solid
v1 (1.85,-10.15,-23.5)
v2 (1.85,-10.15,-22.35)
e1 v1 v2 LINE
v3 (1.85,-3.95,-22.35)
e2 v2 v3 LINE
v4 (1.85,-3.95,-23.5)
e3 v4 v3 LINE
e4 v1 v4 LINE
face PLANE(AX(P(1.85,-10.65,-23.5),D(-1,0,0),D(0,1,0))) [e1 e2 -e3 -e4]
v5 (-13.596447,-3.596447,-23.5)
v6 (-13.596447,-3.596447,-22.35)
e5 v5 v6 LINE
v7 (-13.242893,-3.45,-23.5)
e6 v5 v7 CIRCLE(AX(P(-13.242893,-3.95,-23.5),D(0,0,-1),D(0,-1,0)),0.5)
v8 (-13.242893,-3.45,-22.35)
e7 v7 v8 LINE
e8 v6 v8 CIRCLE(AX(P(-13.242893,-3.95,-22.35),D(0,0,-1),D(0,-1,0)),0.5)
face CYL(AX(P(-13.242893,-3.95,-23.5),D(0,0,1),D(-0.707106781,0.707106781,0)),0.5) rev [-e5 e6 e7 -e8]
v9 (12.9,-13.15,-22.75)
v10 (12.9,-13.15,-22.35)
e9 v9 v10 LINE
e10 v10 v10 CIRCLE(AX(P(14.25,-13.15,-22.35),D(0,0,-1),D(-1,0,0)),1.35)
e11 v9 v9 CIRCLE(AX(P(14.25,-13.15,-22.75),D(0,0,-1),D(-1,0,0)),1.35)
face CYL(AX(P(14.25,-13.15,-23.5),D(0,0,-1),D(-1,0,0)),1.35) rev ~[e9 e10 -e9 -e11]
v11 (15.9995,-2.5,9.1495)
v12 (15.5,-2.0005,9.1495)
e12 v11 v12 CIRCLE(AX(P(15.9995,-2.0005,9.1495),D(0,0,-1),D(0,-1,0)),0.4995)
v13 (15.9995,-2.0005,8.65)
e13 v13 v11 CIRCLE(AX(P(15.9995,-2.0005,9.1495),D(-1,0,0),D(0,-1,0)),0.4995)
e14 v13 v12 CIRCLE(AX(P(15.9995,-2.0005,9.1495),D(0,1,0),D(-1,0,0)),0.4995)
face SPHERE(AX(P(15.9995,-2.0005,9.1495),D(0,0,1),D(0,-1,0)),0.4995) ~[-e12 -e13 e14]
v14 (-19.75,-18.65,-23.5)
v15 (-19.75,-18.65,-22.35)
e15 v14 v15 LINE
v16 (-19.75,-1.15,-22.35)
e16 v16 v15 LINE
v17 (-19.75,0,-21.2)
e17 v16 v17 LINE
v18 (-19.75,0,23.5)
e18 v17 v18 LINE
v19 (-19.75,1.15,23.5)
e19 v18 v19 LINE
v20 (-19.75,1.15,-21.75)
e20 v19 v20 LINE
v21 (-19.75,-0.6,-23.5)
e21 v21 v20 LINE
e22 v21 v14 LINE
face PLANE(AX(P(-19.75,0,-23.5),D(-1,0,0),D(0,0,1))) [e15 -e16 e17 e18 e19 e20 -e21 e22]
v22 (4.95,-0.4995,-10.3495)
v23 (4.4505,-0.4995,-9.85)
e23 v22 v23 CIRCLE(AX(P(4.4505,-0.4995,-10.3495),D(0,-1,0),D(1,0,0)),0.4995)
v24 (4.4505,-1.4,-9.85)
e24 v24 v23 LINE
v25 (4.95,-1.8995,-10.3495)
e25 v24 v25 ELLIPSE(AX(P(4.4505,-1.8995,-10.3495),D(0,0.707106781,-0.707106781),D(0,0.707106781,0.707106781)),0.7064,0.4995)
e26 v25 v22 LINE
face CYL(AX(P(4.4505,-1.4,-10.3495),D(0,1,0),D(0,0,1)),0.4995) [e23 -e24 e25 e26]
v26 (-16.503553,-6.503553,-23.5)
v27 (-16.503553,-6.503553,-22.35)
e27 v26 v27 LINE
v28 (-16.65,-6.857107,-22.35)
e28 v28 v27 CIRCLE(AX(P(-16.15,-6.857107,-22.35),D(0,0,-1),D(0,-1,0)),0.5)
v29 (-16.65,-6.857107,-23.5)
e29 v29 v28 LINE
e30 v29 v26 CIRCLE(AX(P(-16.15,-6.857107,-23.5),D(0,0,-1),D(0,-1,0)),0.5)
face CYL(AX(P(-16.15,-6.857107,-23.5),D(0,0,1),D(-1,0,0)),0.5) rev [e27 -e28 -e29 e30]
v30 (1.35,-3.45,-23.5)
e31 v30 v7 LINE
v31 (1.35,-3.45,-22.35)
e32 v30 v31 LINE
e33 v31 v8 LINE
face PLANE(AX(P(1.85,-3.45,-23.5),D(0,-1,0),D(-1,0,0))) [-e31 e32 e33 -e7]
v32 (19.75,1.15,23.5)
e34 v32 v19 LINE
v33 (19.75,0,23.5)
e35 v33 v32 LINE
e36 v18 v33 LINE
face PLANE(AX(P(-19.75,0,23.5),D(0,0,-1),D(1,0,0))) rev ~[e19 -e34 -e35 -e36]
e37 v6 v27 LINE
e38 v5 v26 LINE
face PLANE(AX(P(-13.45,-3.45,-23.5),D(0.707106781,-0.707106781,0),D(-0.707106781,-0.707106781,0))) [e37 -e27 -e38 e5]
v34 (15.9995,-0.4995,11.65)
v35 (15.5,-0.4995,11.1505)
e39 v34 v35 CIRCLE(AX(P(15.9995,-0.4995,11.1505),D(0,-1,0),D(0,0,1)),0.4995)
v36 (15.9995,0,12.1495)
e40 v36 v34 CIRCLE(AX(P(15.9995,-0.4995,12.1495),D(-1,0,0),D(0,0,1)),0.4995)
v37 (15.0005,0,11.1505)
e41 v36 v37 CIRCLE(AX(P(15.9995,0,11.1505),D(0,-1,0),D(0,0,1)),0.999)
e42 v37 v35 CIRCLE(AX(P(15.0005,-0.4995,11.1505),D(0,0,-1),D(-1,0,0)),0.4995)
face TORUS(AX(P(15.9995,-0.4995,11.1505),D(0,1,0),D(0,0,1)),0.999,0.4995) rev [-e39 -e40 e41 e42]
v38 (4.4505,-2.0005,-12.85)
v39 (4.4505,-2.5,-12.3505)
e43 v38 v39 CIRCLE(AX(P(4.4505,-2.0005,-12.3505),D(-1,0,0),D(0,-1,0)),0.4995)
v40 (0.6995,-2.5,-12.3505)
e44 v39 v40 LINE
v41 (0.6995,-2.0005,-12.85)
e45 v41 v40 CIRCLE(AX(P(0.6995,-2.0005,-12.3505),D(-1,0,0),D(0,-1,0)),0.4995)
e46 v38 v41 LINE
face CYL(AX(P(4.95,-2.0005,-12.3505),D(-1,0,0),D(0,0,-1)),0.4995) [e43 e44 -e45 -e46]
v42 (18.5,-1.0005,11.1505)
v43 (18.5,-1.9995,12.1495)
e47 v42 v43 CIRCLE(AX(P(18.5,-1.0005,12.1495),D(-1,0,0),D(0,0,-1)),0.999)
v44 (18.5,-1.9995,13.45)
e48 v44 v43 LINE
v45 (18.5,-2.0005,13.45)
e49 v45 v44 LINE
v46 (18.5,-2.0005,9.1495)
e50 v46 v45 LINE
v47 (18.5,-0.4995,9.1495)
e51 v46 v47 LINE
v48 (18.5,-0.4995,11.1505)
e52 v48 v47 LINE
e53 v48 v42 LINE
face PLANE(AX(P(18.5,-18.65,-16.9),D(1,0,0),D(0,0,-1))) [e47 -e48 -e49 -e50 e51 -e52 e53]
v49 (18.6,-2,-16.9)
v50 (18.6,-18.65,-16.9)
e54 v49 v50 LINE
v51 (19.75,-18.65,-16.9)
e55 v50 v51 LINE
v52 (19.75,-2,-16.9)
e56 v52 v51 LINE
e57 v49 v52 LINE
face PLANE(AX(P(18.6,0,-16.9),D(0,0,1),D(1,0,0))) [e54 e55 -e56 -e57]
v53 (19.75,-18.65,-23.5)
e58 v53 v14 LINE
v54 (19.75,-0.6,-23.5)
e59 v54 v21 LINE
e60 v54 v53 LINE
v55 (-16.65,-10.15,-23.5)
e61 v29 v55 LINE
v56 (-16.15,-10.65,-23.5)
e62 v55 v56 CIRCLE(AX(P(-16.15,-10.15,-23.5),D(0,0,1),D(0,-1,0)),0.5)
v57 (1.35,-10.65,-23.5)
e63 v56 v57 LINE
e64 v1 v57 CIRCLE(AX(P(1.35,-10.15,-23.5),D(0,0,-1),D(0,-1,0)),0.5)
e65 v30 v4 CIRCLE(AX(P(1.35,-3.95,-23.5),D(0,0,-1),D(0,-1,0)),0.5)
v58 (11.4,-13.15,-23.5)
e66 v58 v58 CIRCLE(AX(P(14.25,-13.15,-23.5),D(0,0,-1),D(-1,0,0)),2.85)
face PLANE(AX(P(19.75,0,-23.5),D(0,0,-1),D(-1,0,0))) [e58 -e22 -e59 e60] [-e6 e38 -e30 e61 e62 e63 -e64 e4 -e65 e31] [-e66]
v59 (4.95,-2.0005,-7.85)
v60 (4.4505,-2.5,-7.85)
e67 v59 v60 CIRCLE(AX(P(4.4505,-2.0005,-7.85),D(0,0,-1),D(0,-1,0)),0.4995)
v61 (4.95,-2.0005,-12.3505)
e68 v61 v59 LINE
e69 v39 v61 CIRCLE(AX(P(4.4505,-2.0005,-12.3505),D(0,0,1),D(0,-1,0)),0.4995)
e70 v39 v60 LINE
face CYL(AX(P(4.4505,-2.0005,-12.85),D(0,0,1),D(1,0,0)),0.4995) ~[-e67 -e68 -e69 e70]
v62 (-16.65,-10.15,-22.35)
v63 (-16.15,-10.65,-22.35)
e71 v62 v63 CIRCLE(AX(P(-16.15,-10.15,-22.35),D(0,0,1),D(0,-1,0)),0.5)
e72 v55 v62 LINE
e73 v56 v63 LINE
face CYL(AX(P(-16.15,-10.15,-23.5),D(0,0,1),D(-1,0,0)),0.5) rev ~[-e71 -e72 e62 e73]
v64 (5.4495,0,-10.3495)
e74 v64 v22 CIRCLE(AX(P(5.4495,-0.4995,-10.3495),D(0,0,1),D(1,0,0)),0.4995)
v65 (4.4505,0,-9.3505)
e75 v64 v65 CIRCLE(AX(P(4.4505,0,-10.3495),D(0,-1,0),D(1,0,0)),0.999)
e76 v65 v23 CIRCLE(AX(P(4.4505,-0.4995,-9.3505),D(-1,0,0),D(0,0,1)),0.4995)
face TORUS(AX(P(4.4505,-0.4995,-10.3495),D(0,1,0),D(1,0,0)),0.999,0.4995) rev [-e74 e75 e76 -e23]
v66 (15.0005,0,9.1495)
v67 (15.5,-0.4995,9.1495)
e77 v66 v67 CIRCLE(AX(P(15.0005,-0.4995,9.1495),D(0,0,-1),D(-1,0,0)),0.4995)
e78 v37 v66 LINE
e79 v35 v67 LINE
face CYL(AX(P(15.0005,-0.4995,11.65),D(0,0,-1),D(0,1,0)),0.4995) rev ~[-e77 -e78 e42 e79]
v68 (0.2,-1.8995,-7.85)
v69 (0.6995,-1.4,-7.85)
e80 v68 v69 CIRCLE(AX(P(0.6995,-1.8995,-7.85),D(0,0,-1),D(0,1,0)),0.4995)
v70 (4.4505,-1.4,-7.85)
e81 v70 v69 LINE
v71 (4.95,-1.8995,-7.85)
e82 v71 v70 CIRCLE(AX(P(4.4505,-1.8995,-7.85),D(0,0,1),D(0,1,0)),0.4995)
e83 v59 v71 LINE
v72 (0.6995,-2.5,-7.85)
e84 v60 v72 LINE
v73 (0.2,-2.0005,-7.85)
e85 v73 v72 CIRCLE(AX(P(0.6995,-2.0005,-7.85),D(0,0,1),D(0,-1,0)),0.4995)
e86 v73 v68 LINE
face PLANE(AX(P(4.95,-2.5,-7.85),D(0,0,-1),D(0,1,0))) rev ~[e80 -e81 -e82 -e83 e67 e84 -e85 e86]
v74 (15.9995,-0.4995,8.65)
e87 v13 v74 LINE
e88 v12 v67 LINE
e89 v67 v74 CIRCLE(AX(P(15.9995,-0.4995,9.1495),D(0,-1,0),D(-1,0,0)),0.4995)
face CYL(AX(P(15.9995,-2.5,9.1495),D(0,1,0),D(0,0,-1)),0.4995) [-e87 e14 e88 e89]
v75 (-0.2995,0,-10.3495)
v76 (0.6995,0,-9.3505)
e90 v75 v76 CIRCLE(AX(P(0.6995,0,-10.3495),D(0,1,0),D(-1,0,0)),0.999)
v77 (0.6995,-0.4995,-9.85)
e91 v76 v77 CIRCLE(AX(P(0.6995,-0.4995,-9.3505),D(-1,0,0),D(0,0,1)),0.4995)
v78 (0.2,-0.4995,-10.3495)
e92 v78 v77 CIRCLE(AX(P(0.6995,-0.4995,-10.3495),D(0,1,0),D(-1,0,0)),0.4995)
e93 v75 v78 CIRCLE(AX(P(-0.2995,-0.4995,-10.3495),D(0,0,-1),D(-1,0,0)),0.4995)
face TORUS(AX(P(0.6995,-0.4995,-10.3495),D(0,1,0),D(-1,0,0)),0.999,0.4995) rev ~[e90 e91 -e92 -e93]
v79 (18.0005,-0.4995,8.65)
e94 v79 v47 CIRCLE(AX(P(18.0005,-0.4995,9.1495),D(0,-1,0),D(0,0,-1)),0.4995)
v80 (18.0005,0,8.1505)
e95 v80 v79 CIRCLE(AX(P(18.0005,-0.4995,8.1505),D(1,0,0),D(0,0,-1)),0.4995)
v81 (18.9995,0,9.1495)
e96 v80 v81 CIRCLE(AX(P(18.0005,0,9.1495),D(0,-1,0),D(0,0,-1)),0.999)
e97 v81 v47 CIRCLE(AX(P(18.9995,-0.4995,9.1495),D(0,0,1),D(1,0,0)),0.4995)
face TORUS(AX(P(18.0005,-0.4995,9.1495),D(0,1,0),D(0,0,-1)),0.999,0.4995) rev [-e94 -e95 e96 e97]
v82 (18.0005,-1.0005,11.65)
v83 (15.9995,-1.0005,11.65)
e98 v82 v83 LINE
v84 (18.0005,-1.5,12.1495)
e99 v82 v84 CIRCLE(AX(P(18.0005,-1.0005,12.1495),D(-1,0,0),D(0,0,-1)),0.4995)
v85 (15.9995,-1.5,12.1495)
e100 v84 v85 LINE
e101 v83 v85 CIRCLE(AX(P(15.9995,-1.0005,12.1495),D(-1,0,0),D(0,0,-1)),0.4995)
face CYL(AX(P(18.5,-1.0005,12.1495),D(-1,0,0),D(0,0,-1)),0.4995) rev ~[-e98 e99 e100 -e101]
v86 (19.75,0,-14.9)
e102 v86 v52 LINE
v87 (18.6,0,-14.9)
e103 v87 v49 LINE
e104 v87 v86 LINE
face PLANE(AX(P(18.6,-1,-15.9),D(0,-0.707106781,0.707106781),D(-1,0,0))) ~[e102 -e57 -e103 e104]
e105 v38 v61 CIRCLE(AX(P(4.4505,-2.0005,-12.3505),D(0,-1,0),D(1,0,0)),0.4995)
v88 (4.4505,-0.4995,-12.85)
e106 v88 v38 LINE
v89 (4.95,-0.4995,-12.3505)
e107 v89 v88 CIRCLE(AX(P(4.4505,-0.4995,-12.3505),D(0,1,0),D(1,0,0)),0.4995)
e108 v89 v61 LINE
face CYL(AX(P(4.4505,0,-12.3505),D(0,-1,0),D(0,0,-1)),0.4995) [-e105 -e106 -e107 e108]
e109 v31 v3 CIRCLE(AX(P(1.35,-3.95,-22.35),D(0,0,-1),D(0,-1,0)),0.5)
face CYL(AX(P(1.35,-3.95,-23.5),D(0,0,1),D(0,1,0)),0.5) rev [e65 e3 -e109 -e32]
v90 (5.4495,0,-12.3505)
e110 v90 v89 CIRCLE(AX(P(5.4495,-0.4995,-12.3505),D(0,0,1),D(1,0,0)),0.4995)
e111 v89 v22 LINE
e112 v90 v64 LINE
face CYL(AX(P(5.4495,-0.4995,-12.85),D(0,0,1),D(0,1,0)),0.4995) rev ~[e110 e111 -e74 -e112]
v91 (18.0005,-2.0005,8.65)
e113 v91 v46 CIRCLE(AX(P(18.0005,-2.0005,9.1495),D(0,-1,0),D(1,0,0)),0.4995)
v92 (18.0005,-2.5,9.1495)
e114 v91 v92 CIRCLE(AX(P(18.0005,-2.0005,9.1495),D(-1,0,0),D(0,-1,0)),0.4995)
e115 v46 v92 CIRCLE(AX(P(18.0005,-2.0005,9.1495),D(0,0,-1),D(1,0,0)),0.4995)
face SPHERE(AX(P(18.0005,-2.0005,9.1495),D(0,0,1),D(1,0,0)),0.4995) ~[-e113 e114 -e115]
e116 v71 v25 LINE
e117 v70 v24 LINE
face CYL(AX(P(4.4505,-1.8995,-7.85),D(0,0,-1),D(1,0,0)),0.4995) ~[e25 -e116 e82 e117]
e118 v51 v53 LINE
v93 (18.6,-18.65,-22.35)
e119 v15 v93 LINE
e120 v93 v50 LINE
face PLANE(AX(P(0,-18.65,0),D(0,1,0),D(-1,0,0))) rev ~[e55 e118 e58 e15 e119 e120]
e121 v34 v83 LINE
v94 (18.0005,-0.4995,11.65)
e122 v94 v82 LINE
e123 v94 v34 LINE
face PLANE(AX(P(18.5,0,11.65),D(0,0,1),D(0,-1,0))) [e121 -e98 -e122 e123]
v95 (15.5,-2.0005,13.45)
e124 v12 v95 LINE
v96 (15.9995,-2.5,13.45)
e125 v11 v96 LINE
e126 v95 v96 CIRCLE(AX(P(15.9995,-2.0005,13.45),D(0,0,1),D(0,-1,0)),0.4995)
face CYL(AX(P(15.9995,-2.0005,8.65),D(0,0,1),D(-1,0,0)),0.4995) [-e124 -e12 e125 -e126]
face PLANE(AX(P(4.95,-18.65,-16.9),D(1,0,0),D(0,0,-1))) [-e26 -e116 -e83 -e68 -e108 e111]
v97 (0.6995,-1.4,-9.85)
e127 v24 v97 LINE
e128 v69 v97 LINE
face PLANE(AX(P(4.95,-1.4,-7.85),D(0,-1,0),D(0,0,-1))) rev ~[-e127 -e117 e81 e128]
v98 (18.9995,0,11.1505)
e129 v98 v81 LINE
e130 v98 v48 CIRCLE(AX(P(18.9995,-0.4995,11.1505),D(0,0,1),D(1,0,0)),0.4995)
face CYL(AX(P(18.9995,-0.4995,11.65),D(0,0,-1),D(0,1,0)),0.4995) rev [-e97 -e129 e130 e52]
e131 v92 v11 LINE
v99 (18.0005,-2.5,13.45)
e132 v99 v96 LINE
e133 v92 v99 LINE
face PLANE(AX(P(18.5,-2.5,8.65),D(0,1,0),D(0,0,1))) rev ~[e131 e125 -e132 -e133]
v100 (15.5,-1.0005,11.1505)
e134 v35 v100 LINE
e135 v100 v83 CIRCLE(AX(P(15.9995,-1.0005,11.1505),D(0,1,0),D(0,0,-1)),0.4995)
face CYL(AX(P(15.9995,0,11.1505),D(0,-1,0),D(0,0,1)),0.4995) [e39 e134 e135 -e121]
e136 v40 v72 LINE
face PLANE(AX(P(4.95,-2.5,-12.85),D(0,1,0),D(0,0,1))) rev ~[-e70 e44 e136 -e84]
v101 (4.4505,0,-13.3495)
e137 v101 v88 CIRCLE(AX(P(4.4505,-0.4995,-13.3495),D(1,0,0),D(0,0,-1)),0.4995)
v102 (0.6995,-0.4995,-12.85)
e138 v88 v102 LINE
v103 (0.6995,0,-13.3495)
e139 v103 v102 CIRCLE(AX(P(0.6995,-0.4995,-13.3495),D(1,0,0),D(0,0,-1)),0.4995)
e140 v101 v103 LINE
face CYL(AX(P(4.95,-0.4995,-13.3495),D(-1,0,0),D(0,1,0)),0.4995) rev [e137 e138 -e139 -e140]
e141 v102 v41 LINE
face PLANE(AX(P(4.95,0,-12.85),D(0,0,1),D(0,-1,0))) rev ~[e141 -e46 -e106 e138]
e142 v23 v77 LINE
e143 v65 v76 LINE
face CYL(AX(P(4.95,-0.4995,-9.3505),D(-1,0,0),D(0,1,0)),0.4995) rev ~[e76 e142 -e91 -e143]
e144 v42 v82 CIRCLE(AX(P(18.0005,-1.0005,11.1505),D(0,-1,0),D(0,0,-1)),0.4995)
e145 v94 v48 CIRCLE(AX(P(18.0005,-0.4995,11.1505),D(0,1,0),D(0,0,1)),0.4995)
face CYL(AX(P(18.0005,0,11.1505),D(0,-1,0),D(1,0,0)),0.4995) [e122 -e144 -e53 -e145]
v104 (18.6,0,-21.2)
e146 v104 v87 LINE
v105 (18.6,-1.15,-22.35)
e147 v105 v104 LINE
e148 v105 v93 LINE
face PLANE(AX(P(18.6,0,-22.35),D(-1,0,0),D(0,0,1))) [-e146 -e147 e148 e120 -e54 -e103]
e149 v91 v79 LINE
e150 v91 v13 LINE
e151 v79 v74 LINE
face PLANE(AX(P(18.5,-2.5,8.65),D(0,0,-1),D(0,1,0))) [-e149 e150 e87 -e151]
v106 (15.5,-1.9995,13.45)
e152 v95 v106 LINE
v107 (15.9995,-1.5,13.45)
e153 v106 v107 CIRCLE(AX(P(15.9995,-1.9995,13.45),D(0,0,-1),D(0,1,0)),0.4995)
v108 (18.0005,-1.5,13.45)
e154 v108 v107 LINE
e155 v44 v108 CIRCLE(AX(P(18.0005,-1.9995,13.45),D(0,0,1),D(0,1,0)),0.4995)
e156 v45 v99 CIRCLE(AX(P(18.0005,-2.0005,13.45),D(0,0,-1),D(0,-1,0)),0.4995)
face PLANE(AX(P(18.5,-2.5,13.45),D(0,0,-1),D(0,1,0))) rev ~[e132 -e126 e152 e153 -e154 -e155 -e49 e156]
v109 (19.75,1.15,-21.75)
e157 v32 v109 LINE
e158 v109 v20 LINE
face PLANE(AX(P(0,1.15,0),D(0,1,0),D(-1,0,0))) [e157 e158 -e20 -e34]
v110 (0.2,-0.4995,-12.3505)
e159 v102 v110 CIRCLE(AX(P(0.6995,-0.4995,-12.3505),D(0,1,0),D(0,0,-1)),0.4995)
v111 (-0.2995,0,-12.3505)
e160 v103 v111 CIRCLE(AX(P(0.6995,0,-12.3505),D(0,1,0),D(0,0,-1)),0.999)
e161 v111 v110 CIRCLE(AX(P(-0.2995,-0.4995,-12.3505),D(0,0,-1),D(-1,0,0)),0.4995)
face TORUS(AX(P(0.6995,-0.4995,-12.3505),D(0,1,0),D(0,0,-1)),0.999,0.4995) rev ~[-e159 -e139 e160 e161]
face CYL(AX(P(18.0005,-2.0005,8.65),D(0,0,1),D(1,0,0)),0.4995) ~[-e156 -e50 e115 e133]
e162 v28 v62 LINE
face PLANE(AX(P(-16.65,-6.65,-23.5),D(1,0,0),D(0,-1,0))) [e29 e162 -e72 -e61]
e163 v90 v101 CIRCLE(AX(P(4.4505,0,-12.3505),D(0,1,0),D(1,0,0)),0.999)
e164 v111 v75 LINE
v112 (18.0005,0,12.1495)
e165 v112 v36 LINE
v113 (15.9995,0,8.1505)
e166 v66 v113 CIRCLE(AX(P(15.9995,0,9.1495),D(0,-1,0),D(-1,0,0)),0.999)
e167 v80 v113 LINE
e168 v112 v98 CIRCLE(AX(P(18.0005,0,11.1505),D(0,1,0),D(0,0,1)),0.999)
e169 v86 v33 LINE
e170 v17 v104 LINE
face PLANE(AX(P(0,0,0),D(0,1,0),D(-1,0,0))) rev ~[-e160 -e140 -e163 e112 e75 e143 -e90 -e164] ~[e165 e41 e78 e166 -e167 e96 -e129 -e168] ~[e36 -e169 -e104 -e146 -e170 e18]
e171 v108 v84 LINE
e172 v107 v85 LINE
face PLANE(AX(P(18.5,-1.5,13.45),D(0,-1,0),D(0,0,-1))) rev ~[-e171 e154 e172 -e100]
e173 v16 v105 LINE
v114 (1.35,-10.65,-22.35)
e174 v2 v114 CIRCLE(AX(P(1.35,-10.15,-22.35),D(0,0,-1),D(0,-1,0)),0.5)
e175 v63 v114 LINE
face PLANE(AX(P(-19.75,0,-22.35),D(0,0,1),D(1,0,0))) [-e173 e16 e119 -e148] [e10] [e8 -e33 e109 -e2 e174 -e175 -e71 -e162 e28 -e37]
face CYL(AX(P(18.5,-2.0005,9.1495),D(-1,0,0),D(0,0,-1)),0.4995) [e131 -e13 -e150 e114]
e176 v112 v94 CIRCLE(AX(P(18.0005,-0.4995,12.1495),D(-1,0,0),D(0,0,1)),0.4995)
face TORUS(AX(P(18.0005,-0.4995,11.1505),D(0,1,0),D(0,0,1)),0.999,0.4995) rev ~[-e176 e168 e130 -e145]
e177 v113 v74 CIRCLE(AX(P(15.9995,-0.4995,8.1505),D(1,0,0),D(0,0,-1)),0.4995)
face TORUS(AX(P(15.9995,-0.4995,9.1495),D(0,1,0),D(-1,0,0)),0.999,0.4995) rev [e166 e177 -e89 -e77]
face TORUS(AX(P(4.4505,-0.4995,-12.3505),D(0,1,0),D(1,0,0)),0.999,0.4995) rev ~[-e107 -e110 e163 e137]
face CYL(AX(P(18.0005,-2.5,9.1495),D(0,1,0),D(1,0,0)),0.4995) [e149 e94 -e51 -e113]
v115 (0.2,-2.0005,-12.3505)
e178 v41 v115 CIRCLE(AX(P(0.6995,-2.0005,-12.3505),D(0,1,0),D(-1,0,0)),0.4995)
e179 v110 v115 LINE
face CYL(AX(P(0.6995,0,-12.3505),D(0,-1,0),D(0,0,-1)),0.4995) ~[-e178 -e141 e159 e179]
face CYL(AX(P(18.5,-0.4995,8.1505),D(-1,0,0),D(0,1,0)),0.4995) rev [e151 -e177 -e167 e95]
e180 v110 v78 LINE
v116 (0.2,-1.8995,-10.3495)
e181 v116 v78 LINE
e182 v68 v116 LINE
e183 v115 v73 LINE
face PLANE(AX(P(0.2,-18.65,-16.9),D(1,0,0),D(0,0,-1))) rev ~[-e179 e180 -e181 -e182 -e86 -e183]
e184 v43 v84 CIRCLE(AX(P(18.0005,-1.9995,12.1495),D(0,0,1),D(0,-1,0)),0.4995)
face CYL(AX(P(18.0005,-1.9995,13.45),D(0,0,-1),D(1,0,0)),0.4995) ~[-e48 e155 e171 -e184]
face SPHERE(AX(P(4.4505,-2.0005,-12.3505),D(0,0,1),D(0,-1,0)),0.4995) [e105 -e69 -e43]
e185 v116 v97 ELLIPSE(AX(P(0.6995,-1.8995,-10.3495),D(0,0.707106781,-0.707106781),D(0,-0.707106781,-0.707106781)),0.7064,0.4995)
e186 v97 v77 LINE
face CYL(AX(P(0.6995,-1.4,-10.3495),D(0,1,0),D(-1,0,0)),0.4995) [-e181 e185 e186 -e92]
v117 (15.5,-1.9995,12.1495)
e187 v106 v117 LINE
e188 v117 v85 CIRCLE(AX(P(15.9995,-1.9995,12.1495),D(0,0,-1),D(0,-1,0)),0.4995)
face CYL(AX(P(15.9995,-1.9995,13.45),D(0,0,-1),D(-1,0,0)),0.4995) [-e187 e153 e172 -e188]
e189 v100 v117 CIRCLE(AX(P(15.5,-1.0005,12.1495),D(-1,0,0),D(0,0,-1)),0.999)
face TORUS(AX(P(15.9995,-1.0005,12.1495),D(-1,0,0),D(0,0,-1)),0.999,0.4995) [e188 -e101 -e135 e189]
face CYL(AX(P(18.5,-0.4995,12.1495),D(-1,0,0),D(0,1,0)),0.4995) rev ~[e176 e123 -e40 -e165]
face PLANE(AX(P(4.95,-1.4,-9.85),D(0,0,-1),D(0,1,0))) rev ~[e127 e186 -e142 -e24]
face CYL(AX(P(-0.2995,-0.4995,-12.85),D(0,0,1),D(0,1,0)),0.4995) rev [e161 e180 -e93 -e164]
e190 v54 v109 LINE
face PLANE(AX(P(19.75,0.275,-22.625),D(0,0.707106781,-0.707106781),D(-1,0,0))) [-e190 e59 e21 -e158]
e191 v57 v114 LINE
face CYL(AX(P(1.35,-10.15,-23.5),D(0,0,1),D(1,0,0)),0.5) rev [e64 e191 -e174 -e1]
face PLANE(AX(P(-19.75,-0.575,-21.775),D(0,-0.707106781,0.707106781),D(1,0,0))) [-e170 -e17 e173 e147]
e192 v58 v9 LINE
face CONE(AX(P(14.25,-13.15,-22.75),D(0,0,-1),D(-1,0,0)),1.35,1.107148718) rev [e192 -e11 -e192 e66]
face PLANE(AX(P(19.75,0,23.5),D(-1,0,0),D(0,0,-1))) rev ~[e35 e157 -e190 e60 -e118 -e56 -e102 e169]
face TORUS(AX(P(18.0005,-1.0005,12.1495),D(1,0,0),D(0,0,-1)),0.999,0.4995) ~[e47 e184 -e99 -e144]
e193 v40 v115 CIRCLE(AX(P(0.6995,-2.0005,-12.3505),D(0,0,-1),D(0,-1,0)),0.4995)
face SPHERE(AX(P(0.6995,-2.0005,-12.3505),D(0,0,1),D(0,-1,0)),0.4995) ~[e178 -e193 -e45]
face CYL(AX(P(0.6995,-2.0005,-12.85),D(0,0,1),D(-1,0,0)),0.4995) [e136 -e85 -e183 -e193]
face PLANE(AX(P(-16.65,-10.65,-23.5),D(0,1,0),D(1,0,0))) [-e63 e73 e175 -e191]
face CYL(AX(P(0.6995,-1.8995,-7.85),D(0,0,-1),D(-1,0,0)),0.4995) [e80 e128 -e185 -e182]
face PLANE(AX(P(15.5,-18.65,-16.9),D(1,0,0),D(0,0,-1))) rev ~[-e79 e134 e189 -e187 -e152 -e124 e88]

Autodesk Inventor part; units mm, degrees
ref_plane "YZ Plane" through (0, 0, 0) normal (1, 0, 0) x (0, 1, 0)
sketch "Sketch1" plane through (0, 0, 0) normal (0, 1, 0) x (-1, 0, 0)
  line L0 (19.75, 23.5) -> (-19.75, 23.5)
  line L1 (-19.75, 23.5) -> (-19.75, -23.5)
  line L2 (-19.75, -23.5) -> (19.75, -23.5)
  line L3 (19.75, -23.5) -> (19.75, 23.5)
  line L4 (0, -28.9451) -> (0, 30.9067)
  line L5 (30.9717, 0) -> (-30.2589, 0)
  point P0 (0, 0)
  dimension "d0" = 39.5
  dimension "d1" = 47
extrude "Extrusion1" add sketch "Sketch1" along normal blind 1.15
sketch "Sketch2" plane through (0, 0, 0) normal (0, 1, 0) x (-1, 0, 0)
  line L0 (-18.6, -22.35) -> (-18.6, -16.9)
  line L1 (-18.6, -16.9) -> (-19.75, -16.9)
  line L2 (-19.75, -16.9) -> (-19.75, -23.5)
  line L3 (-19.75, -23.5) -> (19.75, -23.5)
  line L4 (19.75, -23.5) -> (19.75, -22.35)
  line L5 (19.75, -22.35) -> (-18.6, -22.35)
  line L6 (19.75, -23.5) -> (19.75, 23.5) projected
  point P0 (0, 0)
  point P1 (19.75, -22.925)
  dimension "d7" = 6.6
  dimension "d9" = 1.15
extrude "Extrusion2" add sketch "Sketch2" against normal blind 18.65
chamfer "Chamfer1" distance 1.15 angle 45 1 edges at (-0.575, 0, -22.35) measured on face at (5.8167, -12.4333, -22.35)
chamfer "Chamfer3" distance 1.75 angle 45 1 edges at (0, 1.15, -23.5)
sketch "Sketch3" plane through (19.75, -18.65, -23.5) normal (0, 0, -1) x (-1, 0, 0)
  line L0 (36.4, 8) -> (17.9, 8)
  line L1 (17.9, 8) -> (17.9, 15.2)
  line L2 (17.9, 15.2) -> (33.2, 15.2)
  line L3 (36.4, 12) -> (36.4, 8)
  circle A0 centre (5.5, 5.5) radius 1.35
  line L4 (33.2, 15.2) -> (36.4, 12)
  line L5 (0, 0) -> (0, 18.05) projected
  line L6 (39.5, 0) -> (0, 0) projected
  line L7 (39.5, 0) -> (39.5, 18.05) projected
  point P0 (19.75, 18.65)
  dimension "d19" = 2.7
  dimension "d21" = 135
  dimension "d22" = 135
  dimension "d24" = 18.5
  dimension "d25" = 7.2
  dimension "d34" = 5.5
  dimension "d35" = 5.5
  dimension "d36" = 8
  dimension "d43" = 3.1
  dimension "d47" = 4
extrude "Extrusion3" cut sketch "Sketch3" against normal blind 1.15
chamfer "Chamfer4" distance 2 angle 45 1 edges at (19.175, 0, -16.9)
chamfer "Chamfer5" distance 1.5 distance2 0.75 1 edges at (15.6, -13.15, -23.5) measured on face at (11.7904, -5.3126, -23.5)
fillet "Fillet1" radius 0.5 5 edges at (-16.65, -10.65, -22.925) (-16.65, -6.65, -22.925) (-13.45, -3.45, -22.925) (1.85, -10.65, -22.925) (1.85, -3.45, -22.925)
ref_plane "Work Plane1" through (18.5, -18.65, -16.9) normal (1, 0, 0) x (0, 0, -1)
sketch "Sketch5" plane through (18.5, -18.65, -16.9) normal (1, 0, 0) x (0, 0, -1)
  line L0 (-40.4, 18.65) -> (-2, 18.65) projected
  line L1 (-25.55, 18.65) -> (-28.55, 18.65)
  line L2 (-28.55, 18.65) -> (-28.55, 17.15)
  line L3 (-25.55, 16.15) -> (-25.55, 18.65)
  line L4 (-25.55, 16.15) -> (-30.35, 16.15)
  line L5 (-30.35, 16.15) -> (-30.35, 17.15)
  line L6 (-30.35, 17.15) -> (-28.55, 17.15)
  line L7 (5.45, 17.5) -> (5.45, 0) projected
  point P0 (-16.9, 18.65)
  dimension "d52" = 4.8
  dimension "d55" = 1.5
  dimension "d57" = 31
  dimension "d58" = 3
  dimension "d70" = 2.5
extrude "Extrusion4" add sketch "Sketch5" against normal blind 3
ref_plane "Work Plane2" through (4.95, -18.65, -16.9) normal (1, 0, 0) x (0, 0, -1)
sketch "Sketch6" plane through (4.95, -18.65, -16.9) normal (1, 0, 0) x (0, 0, -1)
  line L0 (4.3, 18.65) -> (-40.4, 18.65) projected
  line L1 (-4.05, 18.65) -> (-4.05, 16.15)
  line L2 (-4.05, 16.15) -> (-9.05, 16.15)
  line L3 (-9.05, 16.15) -> (-9.05, 17.25)
  line L4 (-9.05, 17.25) -> (-7.05, 17.25)
  line L5 (-7.05, 17.25) -> (-7.05, 18.65)
  line L6 (5.45, 17.5) -> (5.45, 0) projected
  point P0 (-16.9, 18.65)
  dimension "d62" = 5
  dimension "d63" = 2
  dimension "d64" = 2.5
  dimension "d68" = 9.5
  dimension "d69" = 1.4
extrude "Extrusion5" add sketch "Sketch6" against normal blind 4.75
fillet "Fillet4" radius 0.5 27 edges at (18.5, -2.5, 11.05) (15.5, -2.5, 11.05) (18.5, -0.75, 11.65) (17, 0, 11.65) (18.5, 0, 10.15) (18.5, -1.25, 8.65) (17, 0, 8.65) (17, -2.5, 8.65) (15.5, -1.25, 8.65) (15.5, 0, 10.15) (15.5, -0.75, 11.65) (15.5, -1.5, 12.55) (18.5, -1.5, 12.55) (17, -1.5, 11.65) (4.95, -0.7, -9.85) (4.95, 0, -11.35) (2.575, 0, -9.85) (4.95, -1.4, -8.85) (0.2, -1.4, -8.85) (0.2, -0.7, -9.85) (0.2, 0, -11.35) (0.2, -2.5, -10.35) (4.95, -2.5, -10.35) (2.575, -2.5, -12.85) (0.2, -1.25, -12.85) (2.575, 0, -12.85) (4.95, -1.25, -12.85)
properties part number "laptop_port_cover"
